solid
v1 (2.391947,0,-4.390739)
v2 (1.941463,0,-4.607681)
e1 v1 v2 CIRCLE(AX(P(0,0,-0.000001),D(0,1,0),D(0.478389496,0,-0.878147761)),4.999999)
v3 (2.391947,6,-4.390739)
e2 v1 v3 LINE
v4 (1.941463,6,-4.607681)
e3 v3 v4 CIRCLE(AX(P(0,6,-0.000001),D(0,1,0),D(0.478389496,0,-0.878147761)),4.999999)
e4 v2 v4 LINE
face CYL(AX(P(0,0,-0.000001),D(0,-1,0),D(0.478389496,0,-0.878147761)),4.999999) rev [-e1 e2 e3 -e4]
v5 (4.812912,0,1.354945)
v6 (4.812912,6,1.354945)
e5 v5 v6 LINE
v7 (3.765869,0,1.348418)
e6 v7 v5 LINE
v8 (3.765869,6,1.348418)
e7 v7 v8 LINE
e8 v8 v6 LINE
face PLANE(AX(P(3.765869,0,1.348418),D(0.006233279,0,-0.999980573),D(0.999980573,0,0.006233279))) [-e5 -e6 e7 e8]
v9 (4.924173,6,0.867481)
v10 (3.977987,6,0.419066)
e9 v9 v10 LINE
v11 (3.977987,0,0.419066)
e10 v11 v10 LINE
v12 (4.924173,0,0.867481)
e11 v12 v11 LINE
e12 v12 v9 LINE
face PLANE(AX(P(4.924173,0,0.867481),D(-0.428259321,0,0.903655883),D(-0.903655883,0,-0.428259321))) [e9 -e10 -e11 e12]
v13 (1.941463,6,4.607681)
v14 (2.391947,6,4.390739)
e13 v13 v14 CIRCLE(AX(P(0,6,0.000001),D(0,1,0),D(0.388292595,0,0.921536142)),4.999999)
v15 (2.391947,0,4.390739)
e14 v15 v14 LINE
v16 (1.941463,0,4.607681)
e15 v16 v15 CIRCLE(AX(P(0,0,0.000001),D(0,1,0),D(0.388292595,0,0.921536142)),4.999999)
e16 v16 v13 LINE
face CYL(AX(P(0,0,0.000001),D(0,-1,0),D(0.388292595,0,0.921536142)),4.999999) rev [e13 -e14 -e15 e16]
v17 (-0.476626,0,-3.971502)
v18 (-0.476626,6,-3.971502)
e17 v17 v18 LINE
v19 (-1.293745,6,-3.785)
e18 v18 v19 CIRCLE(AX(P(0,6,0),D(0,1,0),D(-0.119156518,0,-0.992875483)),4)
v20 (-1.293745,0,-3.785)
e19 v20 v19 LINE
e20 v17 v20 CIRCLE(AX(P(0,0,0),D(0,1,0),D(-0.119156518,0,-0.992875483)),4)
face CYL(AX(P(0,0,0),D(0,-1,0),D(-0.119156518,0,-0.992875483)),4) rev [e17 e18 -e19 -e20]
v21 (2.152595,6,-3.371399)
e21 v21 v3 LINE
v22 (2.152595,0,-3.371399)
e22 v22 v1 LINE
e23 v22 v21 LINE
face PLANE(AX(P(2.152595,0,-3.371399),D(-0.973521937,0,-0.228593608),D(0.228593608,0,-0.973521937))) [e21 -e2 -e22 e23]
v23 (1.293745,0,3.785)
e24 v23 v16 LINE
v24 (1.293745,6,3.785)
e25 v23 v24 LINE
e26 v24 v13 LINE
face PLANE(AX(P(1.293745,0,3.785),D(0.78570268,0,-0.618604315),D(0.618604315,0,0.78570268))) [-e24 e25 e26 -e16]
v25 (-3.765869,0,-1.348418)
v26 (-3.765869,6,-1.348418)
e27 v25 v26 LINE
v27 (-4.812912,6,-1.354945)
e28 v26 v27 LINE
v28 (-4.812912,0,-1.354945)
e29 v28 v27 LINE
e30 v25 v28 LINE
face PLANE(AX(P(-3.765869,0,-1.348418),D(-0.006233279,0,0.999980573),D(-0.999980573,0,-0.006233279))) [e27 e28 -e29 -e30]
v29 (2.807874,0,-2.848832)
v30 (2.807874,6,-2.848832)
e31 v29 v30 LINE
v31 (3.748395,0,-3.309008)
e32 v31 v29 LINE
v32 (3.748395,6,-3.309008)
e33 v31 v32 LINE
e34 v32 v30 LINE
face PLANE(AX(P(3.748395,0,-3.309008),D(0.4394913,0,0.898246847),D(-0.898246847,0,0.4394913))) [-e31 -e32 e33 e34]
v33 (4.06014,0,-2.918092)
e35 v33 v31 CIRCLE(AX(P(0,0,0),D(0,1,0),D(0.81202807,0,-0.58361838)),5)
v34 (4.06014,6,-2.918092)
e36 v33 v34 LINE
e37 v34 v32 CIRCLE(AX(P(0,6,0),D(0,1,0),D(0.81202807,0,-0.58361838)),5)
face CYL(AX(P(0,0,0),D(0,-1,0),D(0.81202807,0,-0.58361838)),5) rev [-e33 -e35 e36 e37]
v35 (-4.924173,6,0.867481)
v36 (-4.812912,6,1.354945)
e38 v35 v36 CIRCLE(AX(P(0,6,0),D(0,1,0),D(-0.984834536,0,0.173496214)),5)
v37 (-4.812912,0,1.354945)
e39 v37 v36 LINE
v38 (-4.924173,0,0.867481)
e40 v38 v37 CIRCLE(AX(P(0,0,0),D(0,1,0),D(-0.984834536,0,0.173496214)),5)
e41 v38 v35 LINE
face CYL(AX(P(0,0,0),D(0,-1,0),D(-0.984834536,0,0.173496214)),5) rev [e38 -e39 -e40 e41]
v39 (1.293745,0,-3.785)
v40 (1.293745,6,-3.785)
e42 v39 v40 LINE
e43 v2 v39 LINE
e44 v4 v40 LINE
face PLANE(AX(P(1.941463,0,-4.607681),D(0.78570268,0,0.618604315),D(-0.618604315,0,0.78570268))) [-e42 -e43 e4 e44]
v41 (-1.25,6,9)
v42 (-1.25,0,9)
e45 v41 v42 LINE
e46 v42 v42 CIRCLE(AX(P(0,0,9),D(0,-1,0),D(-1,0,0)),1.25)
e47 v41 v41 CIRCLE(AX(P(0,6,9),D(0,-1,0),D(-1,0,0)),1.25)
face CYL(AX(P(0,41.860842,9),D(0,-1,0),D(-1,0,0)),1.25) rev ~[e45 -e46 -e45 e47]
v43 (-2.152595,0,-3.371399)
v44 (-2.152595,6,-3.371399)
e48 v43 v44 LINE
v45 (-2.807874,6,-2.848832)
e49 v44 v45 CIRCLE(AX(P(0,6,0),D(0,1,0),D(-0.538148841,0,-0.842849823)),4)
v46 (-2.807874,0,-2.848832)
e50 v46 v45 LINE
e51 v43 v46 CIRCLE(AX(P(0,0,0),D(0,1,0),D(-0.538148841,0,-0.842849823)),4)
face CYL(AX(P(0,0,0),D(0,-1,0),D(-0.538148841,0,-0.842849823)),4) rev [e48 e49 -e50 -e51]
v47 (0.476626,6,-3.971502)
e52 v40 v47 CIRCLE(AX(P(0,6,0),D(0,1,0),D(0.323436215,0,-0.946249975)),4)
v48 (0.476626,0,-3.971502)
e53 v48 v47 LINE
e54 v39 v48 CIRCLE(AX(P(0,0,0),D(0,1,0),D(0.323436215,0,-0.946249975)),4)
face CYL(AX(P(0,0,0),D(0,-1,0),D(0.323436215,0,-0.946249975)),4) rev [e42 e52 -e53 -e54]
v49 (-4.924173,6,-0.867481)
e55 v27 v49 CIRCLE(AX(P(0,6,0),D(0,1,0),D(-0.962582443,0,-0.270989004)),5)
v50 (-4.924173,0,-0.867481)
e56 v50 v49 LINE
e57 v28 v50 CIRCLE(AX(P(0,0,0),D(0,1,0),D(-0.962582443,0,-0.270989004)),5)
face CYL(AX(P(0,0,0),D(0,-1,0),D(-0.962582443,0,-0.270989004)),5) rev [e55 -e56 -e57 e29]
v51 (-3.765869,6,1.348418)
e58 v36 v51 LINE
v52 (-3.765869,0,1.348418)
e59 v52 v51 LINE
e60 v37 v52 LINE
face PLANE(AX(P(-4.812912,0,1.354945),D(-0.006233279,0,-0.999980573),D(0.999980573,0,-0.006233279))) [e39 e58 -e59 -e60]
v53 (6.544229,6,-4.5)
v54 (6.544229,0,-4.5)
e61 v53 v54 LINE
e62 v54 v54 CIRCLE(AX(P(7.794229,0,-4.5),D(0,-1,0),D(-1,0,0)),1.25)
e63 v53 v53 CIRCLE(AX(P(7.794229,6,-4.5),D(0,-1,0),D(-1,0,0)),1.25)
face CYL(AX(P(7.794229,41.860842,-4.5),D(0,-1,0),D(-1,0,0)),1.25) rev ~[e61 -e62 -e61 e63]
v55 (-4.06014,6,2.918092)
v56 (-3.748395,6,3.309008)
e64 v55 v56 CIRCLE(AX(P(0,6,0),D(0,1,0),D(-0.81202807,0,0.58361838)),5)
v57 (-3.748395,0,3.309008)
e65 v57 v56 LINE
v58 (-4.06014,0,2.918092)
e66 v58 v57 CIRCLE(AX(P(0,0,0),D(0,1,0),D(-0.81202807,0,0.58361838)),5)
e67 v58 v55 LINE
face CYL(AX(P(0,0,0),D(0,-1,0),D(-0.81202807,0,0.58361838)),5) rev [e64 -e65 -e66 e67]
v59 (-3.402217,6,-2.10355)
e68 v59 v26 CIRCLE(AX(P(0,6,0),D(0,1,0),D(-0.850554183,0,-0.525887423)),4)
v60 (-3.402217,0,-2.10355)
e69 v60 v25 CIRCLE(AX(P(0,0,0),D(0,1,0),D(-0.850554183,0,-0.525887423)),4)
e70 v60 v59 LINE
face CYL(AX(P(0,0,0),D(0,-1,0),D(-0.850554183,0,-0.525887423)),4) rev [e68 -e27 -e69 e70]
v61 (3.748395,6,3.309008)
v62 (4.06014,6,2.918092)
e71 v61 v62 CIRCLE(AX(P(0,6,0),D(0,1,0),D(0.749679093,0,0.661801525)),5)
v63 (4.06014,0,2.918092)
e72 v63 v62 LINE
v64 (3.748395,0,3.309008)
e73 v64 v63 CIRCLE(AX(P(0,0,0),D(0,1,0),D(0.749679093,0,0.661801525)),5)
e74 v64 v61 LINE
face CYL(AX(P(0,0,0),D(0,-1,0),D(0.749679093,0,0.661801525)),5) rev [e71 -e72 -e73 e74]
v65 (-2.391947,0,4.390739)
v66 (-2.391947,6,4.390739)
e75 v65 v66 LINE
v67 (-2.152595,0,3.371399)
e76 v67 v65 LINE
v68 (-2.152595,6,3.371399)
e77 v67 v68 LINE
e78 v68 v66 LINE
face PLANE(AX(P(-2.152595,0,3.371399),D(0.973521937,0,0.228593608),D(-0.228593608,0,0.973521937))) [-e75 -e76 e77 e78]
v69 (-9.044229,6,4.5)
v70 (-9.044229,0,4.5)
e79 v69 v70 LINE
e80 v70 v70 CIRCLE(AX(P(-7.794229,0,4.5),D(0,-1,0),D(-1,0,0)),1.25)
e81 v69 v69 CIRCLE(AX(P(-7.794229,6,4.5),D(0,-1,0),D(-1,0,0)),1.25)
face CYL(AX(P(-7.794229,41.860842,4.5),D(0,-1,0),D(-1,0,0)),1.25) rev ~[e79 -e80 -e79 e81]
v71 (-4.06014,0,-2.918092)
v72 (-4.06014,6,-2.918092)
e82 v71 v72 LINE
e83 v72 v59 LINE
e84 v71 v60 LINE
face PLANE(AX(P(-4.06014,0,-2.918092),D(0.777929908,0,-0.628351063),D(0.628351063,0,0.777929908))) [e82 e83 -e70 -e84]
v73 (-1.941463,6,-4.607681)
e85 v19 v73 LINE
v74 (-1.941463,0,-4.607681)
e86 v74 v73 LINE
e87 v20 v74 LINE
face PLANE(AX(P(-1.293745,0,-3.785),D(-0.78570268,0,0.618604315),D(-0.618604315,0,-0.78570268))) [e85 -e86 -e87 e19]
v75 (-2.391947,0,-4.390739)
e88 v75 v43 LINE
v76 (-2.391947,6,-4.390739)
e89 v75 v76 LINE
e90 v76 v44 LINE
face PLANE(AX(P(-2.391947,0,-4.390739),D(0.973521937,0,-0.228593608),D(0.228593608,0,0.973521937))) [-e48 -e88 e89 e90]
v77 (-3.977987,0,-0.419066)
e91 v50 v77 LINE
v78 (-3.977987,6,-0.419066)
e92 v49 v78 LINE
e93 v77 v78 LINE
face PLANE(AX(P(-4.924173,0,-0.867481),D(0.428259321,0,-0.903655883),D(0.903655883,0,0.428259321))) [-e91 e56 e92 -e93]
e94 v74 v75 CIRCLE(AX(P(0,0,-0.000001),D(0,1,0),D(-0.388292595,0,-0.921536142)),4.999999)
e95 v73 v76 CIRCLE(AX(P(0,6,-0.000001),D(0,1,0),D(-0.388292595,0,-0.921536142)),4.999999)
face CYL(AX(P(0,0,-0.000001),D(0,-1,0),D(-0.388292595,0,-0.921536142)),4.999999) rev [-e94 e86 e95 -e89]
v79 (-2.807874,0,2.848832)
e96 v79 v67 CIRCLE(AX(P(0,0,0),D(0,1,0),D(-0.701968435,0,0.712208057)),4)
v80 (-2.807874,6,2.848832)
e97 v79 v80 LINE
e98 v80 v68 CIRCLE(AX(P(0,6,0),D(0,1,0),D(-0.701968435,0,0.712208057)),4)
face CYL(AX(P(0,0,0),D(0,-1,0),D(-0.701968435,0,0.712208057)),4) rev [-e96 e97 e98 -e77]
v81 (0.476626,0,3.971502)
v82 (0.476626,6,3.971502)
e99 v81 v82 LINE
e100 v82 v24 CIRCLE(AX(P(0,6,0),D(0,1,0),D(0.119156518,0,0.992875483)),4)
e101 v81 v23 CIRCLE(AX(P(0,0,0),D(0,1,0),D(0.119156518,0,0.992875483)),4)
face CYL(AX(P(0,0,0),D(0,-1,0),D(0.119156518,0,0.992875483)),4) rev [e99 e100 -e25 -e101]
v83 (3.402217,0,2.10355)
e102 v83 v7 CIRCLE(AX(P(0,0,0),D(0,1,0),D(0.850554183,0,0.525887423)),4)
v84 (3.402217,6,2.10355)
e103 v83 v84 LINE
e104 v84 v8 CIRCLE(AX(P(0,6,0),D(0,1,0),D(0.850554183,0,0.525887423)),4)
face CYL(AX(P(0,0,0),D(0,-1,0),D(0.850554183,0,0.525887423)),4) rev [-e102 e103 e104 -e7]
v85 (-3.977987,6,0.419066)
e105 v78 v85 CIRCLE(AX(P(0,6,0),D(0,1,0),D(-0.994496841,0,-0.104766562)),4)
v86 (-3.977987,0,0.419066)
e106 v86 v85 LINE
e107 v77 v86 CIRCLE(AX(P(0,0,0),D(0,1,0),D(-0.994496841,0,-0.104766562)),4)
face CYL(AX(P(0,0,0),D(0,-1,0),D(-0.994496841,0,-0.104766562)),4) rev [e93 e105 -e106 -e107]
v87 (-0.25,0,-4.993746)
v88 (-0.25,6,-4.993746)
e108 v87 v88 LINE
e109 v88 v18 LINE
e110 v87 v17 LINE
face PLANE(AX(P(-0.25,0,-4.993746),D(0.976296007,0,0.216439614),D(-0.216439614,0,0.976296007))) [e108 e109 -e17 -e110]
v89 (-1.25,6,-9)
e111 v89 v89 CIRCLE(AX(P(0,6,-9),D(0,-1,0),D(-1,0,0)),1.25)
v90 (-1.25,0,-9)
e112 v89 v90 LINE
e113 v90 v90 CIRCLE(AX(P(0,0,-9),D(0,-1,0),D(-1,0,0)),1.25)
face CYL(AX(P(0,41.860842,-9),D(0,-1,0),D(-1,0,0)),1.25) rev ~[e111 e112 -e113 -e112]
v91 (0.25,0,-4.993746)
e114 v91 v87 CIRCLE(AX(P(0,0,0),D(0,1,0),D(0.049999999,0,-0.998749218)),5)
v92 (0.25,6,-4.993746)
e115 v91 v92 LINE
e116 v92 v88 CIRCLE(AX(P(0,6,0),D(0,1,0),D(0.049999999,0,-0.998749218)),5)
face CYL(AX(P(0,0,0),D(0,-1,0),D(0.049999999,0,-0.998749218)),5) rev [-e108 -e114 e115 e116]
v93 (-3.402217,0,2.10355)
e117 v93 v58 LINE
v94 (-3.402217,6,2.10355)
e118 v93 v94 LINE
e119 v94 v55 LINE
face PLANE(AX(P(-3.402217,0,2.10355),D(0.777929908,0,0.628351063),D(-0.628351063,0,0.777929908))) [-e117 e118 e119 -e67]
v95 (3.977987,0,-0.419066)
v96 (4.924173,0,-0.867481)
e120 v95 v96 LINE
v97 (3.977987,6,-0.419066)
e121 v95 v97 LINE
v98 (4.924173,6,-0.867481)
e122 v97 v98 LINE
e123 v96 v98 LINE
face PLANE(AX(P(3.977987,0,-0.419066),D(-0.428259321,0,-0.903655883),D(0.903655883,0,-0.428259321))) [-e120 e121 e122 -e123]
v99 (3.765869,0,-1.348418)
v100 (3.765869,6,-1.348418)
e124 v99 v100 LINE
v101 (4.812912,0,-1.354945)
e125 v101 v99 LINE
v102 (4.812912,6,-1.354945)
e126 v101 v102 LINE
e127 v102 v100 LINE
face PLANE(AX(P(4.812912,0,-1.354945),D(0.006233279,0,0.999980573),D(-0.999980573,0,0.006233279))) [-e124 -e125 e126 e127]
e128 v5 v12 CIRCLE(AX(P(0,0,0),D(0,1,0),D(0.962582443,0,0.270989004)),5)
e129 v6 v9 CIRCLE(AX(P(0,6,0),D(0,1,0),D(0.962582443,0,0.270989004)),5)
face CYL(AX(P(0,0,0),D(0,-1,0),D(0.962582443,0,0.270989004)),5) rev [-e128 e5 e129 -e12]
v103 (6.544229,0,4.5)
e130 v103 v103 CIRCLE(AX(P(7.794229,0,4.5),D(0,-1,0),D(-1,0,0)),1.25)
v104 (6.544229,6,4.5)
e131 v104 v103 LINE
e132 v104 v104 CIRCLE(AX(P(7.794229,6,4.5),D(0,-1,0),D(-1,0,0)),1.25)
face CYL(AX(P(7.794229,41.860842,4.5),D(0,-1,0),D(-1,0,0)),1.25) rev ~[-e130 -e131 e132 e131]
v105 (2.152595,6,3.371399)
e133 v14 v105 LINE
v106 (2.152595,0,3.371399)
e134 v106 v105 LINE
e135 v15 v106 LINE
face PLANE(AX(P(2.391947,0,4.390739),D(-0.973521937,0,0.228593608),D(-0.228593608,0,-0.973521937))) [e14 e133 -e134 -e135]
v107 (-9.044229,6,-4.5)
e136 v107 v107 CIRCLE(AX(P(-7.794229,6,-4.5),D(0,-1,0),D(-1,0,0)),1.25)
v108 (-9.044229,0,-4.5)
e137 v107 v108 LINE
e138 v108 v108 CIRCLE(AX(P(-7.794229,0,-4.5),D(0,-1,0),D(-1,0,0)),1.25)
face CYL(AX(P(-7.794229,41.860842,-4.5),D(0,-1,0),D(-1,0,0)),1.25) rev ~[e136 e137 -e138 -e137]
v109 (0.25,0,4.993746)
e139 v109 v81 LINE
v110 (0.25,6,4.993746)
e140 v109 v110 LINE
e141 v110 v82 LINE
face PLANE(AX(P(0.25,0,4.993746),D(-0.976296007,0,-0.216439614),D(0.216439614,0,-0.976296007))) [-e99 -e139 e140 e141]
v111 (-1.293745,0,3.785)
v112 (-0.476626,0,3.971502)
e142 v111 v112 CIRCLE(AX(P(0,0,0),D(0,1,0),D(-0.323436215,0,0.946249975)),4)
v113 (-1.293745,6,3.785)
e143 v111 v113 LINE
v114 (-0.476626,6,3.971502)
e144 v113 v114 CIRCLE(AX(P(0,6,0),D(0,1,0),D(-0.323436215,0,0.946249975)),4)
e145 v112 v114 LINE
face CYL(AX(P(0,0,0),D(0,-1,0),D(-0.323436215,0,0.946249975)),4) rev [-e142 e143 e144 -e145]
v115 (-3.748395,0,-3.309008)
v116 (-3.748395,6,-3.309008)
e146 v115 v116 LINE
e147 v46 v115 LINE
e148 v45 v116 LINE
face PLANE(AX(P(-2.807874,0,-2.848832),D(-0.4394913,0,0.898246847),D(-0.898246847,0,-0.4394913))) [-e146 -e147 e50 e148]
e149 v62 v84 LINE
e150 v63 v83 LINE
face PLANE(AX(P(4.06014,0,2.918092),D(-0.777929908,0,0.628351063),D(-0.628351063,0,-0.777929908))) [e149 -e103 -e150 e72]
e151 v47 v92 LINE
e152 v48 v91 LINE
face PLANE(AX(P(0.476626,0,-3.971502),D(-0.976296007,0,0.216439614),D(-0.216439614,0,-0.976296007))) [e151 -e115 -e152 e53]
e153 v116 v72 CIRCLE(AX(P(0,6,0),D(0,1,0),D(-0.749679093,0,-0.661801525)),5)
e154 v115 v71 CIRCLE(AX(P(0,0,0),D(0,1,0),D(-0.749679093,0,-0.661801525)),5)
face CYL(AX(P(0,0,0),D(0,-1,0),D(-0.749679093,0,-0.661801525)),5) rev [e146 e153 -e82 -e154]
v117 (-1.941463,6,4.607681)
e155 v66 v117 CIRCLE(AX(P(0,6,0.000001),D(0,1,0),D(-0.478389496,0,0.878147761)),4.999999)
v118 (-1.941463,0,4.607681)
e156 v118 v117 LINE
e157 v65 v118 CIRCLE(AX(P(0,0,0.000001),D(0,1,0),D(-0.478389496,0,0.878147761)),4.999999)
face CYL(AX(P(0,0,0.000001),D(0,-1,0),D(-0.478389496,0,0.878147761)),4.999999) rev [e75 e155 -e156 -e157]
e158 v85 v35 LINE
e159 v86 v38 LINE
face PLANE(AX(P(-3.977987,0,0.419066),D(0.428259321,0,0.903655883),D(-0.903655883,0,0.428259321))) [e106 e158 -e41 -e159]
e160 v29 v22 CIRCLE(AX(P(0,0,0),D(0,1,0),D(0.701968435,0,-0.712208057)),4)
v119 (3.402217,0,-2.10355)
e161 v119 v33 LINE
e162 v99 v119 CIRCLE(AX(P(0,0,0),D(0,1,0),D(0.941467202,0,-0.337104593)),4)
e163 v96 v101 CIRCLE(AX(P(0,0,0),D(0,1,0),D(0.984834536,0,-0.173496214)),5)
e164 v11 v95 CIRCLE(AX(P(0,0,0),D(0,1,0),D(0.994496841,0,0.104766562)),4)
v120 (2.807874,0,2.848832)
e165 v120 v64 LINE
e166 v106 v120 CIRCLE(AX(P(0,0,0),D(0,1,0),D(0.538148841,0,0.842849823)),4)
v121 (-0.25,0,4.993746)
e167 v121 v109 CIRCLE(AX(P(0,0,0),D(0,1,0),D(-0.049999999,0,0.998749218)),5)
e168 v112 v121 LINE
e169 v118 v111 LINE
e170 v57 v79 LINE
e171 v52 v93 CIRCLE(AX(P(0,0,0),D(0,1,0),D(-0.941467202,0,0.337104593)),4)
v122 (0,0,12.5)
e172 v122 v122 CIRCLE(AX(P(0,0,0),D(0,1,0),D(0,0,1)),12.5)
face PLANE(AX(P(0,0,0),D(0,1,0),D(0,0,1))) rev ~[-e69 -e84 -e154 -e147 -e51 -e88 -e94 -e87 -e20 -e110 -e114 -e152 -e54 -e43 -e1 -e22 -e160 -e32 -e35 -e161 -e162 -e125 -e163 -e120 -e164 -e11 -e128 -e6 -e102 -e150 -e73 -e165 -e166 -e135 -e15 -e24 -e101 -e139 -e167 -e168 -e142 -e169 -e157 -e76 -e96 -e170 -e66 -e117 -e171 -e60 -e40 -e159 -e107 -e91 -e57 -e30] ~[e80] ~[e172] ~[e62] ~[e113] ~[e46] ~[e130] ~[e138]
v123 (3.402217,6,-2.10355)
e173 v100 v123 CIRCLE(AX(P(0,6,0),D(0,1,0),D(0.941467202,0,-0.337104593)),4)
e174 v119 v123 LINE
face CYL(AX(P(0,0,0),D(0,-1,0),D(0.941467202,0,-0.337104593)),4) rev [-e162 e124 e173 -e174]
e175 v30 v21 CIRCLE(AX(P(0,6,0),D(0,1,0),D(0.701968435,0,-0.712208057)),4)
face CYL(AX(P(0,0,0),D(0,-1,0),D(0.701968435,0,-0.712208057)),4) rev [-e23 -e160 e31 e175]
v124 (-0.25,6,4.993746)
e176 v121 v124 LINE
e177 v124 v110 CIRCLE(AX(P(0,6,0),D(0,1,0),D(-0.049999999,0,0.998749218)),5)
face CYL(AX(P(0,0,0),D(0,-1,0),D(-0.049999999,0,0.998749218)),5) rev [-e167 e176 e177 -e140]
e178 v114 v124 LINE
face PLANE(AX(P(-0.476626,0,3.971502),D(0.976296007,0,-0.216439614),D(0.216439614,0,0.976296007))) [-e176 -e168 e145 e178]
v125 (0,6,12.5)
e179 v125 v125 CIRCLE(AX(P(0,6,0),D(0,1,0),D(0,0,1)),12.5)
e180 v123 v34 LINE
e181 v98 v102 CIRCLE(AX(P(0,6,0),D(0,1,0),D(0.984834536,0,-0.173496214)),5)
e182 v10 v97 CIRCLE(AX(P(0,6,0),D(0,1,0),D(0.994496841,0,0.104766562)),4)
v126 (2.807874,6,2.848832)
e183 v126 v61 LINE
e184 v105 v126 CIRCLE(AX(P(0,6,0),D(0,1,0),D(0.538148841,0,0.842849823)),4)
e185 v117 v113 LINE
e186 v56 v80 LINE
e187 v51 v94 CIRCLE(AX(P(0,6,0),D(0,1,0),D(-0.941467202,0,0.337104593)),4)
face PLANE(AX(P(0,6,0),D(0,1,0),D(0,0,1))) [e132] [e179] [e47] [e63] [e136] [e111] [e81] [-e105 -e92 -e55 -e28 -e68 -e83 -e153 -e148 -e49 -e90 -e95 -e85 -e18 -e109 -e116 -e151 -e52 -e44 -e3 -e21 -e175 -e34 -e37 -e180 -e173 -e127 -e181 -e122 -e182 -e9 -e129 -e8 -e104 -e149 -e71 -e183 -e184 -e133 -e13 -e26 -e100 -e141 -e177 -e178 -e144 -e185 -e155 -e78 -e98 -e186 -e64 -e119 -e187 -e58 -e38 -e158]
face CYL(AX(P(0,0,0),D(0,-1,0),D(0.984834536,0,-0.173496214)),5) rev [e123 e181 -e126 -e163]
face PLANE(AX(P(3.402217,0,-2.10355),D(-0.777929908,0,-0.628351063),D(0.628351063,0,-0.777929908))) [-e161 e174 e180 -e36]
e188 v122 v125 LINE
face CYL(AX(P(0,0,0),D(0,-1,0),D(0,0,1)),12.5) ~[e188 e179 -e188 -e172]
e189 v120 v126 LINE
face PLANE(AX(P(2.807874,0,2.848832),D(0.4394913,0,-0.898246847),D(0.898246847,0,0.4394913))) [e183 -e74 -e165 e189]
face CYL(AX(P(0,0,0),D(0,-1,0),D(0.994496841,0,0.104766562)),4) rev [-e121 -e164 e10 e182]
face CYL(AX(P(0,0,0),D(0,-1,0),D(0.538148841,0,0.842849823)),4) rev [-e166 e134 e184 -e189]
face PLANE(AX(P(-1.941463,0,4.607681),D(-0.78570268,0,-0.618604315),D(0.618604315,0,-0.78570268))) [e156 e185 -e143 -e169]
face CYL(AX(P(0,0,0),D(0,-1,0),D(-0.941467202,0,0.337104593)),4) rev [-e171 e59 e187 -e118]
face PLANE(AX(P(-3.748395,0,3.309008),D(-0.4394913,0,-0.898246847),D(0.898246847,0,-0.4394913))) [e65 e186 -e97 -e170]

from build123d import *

# Parameters (mm, degrees)
SKETCH1_R           = 12.5
BOSS_EXTRUDE1_DEPTH = 6
M3_TAPPED_HOLE1_D   = 2.5


with BuildPart() as part:
    # Sketch1 → Boss-Extrude1 (new body)
    with BuildSketch(Plane(origin=(0, 0, 0), x_dir=(1, 0, 0), z_dir=(0, 1, 0))):
        with Locations(Location((0, 0, 0), (0, 0, 270))):
            Circle(SKETCH1_R)
        with BuildLine():
            Line((-0.25, 4.993746089), (-0.476626074, 3.971501931))
            ThreePointArc((-0.476626074, 3.971501931), (-0.890083736, 3.899711649), (-1.293744854, 3.784999901))
            Line((-1.293744854, 3.784999901), (-1.941463008, 4.607680695))
            ThreePointArc((-1.941463008, 4.607680695), (-2.169418696, 4.50484434), (-2.391947442, 4.390738825))
            Line((-2.391947442, 4.390738825), (-2.152595362, 3.371399295))
            ThreePointArc((-2.152595362, 3.371399295), (-2.493959207, 3.12732593), (-2.807873746, 2.848832222))
            Line((-2.807873746, 2.848832222), (-3.748395457, 3.30900763))
            ThreePointArc((-3.748395457, 3.30900763), (-3.909157412, 3.117449009), (-4.060140358, 2.918091889))
            Line((-4.060140358, 2.918091889), (-3.402216738, 2.103549682))
            ThreePointArc((-3.402216738, 2.103549682), (-3.603875472, 1.735534956), (-3.765868806, 1.348418382))
            Line((-3.765868806, 1.348418382), (-4.812912215, 1.354945022))
            ThreePointArc((-4.812912215, 1.354945022), (-4.874639561, 1.11260467), (-4.924172682, 0.867481066))
            Line((-4.924172682, 0.867481066), (-3.977987365, 0.419066256))
            ThreePointArc((-3.977987365, 0.419066256), (-4, 0), (-3.977987365, -0.419066256))
            Line((-3.977987365, -0.419066256), (-4.924172682, -0.867481066))
            ThreePointArc((-4.924172682, -0.867481066), (-4.874639561, -1.11260467), (-4.812912215, -1.354945022))
            Line((-4.812912215, -1.354945022), (-3.765868806, -1.348418382))
            ThreePointArc((-3.765868806, -1.348418382), (-3.603875472, -1.735534956), (-3.402216738, -2.103549682))
            Line((-3.402216738, -2.103549682), (-4.060140358, -2.918091889))
            ThreePointArc((-4.060140358, -2.918091889), (-3.909157412, -3.117449009), (-3.748395457, -3.30900763))
            Line((-3.748395457, -3.30900763), (-2.807873746, -2.848832222))
            ThreePointArc((-2.807873746, -2.848832222), (-2.493959207, -3.12732593), (-2.152595362, -3.371399295))
            Line((-2.152595362, -3.371399295), (-2.391947442, -4.390738825))
            ThreePointArc((-2.391947442, -4.390738825), (-2.169418696, -4.50484434), (-1.941463008, -4.607680695))
            Line((-1.941463008, -4.607680695), (-1.293744854, -3.784999901))
            ThreePointArc((-1.293744854, -3.784999901), (-0.890083736, -3.899711649), (-0.476626074, -3.971501931))
            Line((-0.476626074, -3.971501931), (-0.25, -4.993746089))
            ThreePointArc((-0.25, -4.993746089), (0, -5), (0.25, -4.993746089))
            Line((0.25, -4.993746089), (0.476626074, -3.971501931))
            ThreePointArc((0.476626074, -3.971501931), (0.890083736, -3.899711649), (1.293744854, -3.784999901))
            Line((1.293744854, -3.784999901), (1.941463008, -4.607680695))
            ThreePointArc((1.941463008, -4.607680695), (2.169418696, -4.50484434), (2.391947442, -4.390738825))
            Line((2.391947442, -4.390738825), (2.152595362, -3.371399295))
            ThreePointArc((2.152595362, -3.371399295), (2.493959207, -3.12732593), (2.807873746, -2.848832222))
            Line((2.807873746, -2.848832222), (3.748395457, -3.30900763))
            ThreePointArc((3.748395457, -3.30900763), (3.909157412, -3.117449009), (4.060140358, -2.918091889))
            Line((4.060140358, -2.918091889), (3.402216738, -2.103549682))
            ThreePointArc((3.402216738, -2.103549682), (3.603875472, -1.735534956), (3.765868806, -1.348418382))
            Line((3.765868806, -1.348418382), (4.812912215, -1.354945022))
            ThreePointArc((4.812912215, -1.354945022), (4.874639561, -1.11260467), (4.924172682, -0.867481066))
            Line((4.924172682, -0.867481066), (3.977987365, -0.419066256))
            ThreePointArc((3.977987365, -0.419066256), (4, 0), (3.977987365, 0.419066256))
            Line((3.977987365, 0.419066256), (4.924172682, 0.867481066))
            ThreePointArc((4.924172682, 0.867481066), (4.874639561, 1.11260467), (4.812912215, 1.354945022))
            Line((4.812912215, 1.354945022), (3.765868806, 1.348418382))
            ThreePointArc((3.765868806, 1.348418382), (3.603875472, 1.735534956), (3.402216738, 2.103549682))
            Line((3.402216738, 2.103549682), (4.060140358, 2.918091889))
            ThreePointArc((4.060140358, 2.918091889), (3.909157412, 3.117449009), (3.748395457, 3.30900763))
            Line((3.748395457, 3.30900763), (2.807873746, 2.848832222))
            ThreePointArc((2.807873746, 2.848832222), (2.493959207, 3.12732593), (2.152595362, 3.371399295))
            Line((2.152595362, 3.371399295), (2.391947442, 4.390738825))
            ThreePointArc((2.391947442, 4.390738825), (2.169418696, 4.50484434), (1.941463008, 4.607680695))
            Line((1.941463008, 4.607680695), (1.293744854, 3.784999901))
            ThreePointArc((1.293744854, 3.784999901), (0.890083736, 3.899711649), (0.476626074, 3.971501931))
            Line((0.476626074, 3.971501931), (0.25, 4.993746089))
            ThreePointArc((0.25, 4.993746089), (0, 5), (-0.25, 4.993746089))
        make_face(mode=Mode.SUBTRACT)
    extrude(amount=BOSS_EXTRUDE1_DEPTH)

    # M3 Tapped Hole1 (through all)
    with Locations(Plane(origin=(0, 6, 0), x_dir=(1, 0, 0), z_dir=(0, 1, 0))):
        with Locations((0, 9), (7.794228634, 4.5), (7.794228634, -4.5), (0, -9), (-7.794228634, -4.5), (-7.794228634, 4.5)):
            Hole(M3_TAPPED_HOLE1_D / 2)


solid = part.part
